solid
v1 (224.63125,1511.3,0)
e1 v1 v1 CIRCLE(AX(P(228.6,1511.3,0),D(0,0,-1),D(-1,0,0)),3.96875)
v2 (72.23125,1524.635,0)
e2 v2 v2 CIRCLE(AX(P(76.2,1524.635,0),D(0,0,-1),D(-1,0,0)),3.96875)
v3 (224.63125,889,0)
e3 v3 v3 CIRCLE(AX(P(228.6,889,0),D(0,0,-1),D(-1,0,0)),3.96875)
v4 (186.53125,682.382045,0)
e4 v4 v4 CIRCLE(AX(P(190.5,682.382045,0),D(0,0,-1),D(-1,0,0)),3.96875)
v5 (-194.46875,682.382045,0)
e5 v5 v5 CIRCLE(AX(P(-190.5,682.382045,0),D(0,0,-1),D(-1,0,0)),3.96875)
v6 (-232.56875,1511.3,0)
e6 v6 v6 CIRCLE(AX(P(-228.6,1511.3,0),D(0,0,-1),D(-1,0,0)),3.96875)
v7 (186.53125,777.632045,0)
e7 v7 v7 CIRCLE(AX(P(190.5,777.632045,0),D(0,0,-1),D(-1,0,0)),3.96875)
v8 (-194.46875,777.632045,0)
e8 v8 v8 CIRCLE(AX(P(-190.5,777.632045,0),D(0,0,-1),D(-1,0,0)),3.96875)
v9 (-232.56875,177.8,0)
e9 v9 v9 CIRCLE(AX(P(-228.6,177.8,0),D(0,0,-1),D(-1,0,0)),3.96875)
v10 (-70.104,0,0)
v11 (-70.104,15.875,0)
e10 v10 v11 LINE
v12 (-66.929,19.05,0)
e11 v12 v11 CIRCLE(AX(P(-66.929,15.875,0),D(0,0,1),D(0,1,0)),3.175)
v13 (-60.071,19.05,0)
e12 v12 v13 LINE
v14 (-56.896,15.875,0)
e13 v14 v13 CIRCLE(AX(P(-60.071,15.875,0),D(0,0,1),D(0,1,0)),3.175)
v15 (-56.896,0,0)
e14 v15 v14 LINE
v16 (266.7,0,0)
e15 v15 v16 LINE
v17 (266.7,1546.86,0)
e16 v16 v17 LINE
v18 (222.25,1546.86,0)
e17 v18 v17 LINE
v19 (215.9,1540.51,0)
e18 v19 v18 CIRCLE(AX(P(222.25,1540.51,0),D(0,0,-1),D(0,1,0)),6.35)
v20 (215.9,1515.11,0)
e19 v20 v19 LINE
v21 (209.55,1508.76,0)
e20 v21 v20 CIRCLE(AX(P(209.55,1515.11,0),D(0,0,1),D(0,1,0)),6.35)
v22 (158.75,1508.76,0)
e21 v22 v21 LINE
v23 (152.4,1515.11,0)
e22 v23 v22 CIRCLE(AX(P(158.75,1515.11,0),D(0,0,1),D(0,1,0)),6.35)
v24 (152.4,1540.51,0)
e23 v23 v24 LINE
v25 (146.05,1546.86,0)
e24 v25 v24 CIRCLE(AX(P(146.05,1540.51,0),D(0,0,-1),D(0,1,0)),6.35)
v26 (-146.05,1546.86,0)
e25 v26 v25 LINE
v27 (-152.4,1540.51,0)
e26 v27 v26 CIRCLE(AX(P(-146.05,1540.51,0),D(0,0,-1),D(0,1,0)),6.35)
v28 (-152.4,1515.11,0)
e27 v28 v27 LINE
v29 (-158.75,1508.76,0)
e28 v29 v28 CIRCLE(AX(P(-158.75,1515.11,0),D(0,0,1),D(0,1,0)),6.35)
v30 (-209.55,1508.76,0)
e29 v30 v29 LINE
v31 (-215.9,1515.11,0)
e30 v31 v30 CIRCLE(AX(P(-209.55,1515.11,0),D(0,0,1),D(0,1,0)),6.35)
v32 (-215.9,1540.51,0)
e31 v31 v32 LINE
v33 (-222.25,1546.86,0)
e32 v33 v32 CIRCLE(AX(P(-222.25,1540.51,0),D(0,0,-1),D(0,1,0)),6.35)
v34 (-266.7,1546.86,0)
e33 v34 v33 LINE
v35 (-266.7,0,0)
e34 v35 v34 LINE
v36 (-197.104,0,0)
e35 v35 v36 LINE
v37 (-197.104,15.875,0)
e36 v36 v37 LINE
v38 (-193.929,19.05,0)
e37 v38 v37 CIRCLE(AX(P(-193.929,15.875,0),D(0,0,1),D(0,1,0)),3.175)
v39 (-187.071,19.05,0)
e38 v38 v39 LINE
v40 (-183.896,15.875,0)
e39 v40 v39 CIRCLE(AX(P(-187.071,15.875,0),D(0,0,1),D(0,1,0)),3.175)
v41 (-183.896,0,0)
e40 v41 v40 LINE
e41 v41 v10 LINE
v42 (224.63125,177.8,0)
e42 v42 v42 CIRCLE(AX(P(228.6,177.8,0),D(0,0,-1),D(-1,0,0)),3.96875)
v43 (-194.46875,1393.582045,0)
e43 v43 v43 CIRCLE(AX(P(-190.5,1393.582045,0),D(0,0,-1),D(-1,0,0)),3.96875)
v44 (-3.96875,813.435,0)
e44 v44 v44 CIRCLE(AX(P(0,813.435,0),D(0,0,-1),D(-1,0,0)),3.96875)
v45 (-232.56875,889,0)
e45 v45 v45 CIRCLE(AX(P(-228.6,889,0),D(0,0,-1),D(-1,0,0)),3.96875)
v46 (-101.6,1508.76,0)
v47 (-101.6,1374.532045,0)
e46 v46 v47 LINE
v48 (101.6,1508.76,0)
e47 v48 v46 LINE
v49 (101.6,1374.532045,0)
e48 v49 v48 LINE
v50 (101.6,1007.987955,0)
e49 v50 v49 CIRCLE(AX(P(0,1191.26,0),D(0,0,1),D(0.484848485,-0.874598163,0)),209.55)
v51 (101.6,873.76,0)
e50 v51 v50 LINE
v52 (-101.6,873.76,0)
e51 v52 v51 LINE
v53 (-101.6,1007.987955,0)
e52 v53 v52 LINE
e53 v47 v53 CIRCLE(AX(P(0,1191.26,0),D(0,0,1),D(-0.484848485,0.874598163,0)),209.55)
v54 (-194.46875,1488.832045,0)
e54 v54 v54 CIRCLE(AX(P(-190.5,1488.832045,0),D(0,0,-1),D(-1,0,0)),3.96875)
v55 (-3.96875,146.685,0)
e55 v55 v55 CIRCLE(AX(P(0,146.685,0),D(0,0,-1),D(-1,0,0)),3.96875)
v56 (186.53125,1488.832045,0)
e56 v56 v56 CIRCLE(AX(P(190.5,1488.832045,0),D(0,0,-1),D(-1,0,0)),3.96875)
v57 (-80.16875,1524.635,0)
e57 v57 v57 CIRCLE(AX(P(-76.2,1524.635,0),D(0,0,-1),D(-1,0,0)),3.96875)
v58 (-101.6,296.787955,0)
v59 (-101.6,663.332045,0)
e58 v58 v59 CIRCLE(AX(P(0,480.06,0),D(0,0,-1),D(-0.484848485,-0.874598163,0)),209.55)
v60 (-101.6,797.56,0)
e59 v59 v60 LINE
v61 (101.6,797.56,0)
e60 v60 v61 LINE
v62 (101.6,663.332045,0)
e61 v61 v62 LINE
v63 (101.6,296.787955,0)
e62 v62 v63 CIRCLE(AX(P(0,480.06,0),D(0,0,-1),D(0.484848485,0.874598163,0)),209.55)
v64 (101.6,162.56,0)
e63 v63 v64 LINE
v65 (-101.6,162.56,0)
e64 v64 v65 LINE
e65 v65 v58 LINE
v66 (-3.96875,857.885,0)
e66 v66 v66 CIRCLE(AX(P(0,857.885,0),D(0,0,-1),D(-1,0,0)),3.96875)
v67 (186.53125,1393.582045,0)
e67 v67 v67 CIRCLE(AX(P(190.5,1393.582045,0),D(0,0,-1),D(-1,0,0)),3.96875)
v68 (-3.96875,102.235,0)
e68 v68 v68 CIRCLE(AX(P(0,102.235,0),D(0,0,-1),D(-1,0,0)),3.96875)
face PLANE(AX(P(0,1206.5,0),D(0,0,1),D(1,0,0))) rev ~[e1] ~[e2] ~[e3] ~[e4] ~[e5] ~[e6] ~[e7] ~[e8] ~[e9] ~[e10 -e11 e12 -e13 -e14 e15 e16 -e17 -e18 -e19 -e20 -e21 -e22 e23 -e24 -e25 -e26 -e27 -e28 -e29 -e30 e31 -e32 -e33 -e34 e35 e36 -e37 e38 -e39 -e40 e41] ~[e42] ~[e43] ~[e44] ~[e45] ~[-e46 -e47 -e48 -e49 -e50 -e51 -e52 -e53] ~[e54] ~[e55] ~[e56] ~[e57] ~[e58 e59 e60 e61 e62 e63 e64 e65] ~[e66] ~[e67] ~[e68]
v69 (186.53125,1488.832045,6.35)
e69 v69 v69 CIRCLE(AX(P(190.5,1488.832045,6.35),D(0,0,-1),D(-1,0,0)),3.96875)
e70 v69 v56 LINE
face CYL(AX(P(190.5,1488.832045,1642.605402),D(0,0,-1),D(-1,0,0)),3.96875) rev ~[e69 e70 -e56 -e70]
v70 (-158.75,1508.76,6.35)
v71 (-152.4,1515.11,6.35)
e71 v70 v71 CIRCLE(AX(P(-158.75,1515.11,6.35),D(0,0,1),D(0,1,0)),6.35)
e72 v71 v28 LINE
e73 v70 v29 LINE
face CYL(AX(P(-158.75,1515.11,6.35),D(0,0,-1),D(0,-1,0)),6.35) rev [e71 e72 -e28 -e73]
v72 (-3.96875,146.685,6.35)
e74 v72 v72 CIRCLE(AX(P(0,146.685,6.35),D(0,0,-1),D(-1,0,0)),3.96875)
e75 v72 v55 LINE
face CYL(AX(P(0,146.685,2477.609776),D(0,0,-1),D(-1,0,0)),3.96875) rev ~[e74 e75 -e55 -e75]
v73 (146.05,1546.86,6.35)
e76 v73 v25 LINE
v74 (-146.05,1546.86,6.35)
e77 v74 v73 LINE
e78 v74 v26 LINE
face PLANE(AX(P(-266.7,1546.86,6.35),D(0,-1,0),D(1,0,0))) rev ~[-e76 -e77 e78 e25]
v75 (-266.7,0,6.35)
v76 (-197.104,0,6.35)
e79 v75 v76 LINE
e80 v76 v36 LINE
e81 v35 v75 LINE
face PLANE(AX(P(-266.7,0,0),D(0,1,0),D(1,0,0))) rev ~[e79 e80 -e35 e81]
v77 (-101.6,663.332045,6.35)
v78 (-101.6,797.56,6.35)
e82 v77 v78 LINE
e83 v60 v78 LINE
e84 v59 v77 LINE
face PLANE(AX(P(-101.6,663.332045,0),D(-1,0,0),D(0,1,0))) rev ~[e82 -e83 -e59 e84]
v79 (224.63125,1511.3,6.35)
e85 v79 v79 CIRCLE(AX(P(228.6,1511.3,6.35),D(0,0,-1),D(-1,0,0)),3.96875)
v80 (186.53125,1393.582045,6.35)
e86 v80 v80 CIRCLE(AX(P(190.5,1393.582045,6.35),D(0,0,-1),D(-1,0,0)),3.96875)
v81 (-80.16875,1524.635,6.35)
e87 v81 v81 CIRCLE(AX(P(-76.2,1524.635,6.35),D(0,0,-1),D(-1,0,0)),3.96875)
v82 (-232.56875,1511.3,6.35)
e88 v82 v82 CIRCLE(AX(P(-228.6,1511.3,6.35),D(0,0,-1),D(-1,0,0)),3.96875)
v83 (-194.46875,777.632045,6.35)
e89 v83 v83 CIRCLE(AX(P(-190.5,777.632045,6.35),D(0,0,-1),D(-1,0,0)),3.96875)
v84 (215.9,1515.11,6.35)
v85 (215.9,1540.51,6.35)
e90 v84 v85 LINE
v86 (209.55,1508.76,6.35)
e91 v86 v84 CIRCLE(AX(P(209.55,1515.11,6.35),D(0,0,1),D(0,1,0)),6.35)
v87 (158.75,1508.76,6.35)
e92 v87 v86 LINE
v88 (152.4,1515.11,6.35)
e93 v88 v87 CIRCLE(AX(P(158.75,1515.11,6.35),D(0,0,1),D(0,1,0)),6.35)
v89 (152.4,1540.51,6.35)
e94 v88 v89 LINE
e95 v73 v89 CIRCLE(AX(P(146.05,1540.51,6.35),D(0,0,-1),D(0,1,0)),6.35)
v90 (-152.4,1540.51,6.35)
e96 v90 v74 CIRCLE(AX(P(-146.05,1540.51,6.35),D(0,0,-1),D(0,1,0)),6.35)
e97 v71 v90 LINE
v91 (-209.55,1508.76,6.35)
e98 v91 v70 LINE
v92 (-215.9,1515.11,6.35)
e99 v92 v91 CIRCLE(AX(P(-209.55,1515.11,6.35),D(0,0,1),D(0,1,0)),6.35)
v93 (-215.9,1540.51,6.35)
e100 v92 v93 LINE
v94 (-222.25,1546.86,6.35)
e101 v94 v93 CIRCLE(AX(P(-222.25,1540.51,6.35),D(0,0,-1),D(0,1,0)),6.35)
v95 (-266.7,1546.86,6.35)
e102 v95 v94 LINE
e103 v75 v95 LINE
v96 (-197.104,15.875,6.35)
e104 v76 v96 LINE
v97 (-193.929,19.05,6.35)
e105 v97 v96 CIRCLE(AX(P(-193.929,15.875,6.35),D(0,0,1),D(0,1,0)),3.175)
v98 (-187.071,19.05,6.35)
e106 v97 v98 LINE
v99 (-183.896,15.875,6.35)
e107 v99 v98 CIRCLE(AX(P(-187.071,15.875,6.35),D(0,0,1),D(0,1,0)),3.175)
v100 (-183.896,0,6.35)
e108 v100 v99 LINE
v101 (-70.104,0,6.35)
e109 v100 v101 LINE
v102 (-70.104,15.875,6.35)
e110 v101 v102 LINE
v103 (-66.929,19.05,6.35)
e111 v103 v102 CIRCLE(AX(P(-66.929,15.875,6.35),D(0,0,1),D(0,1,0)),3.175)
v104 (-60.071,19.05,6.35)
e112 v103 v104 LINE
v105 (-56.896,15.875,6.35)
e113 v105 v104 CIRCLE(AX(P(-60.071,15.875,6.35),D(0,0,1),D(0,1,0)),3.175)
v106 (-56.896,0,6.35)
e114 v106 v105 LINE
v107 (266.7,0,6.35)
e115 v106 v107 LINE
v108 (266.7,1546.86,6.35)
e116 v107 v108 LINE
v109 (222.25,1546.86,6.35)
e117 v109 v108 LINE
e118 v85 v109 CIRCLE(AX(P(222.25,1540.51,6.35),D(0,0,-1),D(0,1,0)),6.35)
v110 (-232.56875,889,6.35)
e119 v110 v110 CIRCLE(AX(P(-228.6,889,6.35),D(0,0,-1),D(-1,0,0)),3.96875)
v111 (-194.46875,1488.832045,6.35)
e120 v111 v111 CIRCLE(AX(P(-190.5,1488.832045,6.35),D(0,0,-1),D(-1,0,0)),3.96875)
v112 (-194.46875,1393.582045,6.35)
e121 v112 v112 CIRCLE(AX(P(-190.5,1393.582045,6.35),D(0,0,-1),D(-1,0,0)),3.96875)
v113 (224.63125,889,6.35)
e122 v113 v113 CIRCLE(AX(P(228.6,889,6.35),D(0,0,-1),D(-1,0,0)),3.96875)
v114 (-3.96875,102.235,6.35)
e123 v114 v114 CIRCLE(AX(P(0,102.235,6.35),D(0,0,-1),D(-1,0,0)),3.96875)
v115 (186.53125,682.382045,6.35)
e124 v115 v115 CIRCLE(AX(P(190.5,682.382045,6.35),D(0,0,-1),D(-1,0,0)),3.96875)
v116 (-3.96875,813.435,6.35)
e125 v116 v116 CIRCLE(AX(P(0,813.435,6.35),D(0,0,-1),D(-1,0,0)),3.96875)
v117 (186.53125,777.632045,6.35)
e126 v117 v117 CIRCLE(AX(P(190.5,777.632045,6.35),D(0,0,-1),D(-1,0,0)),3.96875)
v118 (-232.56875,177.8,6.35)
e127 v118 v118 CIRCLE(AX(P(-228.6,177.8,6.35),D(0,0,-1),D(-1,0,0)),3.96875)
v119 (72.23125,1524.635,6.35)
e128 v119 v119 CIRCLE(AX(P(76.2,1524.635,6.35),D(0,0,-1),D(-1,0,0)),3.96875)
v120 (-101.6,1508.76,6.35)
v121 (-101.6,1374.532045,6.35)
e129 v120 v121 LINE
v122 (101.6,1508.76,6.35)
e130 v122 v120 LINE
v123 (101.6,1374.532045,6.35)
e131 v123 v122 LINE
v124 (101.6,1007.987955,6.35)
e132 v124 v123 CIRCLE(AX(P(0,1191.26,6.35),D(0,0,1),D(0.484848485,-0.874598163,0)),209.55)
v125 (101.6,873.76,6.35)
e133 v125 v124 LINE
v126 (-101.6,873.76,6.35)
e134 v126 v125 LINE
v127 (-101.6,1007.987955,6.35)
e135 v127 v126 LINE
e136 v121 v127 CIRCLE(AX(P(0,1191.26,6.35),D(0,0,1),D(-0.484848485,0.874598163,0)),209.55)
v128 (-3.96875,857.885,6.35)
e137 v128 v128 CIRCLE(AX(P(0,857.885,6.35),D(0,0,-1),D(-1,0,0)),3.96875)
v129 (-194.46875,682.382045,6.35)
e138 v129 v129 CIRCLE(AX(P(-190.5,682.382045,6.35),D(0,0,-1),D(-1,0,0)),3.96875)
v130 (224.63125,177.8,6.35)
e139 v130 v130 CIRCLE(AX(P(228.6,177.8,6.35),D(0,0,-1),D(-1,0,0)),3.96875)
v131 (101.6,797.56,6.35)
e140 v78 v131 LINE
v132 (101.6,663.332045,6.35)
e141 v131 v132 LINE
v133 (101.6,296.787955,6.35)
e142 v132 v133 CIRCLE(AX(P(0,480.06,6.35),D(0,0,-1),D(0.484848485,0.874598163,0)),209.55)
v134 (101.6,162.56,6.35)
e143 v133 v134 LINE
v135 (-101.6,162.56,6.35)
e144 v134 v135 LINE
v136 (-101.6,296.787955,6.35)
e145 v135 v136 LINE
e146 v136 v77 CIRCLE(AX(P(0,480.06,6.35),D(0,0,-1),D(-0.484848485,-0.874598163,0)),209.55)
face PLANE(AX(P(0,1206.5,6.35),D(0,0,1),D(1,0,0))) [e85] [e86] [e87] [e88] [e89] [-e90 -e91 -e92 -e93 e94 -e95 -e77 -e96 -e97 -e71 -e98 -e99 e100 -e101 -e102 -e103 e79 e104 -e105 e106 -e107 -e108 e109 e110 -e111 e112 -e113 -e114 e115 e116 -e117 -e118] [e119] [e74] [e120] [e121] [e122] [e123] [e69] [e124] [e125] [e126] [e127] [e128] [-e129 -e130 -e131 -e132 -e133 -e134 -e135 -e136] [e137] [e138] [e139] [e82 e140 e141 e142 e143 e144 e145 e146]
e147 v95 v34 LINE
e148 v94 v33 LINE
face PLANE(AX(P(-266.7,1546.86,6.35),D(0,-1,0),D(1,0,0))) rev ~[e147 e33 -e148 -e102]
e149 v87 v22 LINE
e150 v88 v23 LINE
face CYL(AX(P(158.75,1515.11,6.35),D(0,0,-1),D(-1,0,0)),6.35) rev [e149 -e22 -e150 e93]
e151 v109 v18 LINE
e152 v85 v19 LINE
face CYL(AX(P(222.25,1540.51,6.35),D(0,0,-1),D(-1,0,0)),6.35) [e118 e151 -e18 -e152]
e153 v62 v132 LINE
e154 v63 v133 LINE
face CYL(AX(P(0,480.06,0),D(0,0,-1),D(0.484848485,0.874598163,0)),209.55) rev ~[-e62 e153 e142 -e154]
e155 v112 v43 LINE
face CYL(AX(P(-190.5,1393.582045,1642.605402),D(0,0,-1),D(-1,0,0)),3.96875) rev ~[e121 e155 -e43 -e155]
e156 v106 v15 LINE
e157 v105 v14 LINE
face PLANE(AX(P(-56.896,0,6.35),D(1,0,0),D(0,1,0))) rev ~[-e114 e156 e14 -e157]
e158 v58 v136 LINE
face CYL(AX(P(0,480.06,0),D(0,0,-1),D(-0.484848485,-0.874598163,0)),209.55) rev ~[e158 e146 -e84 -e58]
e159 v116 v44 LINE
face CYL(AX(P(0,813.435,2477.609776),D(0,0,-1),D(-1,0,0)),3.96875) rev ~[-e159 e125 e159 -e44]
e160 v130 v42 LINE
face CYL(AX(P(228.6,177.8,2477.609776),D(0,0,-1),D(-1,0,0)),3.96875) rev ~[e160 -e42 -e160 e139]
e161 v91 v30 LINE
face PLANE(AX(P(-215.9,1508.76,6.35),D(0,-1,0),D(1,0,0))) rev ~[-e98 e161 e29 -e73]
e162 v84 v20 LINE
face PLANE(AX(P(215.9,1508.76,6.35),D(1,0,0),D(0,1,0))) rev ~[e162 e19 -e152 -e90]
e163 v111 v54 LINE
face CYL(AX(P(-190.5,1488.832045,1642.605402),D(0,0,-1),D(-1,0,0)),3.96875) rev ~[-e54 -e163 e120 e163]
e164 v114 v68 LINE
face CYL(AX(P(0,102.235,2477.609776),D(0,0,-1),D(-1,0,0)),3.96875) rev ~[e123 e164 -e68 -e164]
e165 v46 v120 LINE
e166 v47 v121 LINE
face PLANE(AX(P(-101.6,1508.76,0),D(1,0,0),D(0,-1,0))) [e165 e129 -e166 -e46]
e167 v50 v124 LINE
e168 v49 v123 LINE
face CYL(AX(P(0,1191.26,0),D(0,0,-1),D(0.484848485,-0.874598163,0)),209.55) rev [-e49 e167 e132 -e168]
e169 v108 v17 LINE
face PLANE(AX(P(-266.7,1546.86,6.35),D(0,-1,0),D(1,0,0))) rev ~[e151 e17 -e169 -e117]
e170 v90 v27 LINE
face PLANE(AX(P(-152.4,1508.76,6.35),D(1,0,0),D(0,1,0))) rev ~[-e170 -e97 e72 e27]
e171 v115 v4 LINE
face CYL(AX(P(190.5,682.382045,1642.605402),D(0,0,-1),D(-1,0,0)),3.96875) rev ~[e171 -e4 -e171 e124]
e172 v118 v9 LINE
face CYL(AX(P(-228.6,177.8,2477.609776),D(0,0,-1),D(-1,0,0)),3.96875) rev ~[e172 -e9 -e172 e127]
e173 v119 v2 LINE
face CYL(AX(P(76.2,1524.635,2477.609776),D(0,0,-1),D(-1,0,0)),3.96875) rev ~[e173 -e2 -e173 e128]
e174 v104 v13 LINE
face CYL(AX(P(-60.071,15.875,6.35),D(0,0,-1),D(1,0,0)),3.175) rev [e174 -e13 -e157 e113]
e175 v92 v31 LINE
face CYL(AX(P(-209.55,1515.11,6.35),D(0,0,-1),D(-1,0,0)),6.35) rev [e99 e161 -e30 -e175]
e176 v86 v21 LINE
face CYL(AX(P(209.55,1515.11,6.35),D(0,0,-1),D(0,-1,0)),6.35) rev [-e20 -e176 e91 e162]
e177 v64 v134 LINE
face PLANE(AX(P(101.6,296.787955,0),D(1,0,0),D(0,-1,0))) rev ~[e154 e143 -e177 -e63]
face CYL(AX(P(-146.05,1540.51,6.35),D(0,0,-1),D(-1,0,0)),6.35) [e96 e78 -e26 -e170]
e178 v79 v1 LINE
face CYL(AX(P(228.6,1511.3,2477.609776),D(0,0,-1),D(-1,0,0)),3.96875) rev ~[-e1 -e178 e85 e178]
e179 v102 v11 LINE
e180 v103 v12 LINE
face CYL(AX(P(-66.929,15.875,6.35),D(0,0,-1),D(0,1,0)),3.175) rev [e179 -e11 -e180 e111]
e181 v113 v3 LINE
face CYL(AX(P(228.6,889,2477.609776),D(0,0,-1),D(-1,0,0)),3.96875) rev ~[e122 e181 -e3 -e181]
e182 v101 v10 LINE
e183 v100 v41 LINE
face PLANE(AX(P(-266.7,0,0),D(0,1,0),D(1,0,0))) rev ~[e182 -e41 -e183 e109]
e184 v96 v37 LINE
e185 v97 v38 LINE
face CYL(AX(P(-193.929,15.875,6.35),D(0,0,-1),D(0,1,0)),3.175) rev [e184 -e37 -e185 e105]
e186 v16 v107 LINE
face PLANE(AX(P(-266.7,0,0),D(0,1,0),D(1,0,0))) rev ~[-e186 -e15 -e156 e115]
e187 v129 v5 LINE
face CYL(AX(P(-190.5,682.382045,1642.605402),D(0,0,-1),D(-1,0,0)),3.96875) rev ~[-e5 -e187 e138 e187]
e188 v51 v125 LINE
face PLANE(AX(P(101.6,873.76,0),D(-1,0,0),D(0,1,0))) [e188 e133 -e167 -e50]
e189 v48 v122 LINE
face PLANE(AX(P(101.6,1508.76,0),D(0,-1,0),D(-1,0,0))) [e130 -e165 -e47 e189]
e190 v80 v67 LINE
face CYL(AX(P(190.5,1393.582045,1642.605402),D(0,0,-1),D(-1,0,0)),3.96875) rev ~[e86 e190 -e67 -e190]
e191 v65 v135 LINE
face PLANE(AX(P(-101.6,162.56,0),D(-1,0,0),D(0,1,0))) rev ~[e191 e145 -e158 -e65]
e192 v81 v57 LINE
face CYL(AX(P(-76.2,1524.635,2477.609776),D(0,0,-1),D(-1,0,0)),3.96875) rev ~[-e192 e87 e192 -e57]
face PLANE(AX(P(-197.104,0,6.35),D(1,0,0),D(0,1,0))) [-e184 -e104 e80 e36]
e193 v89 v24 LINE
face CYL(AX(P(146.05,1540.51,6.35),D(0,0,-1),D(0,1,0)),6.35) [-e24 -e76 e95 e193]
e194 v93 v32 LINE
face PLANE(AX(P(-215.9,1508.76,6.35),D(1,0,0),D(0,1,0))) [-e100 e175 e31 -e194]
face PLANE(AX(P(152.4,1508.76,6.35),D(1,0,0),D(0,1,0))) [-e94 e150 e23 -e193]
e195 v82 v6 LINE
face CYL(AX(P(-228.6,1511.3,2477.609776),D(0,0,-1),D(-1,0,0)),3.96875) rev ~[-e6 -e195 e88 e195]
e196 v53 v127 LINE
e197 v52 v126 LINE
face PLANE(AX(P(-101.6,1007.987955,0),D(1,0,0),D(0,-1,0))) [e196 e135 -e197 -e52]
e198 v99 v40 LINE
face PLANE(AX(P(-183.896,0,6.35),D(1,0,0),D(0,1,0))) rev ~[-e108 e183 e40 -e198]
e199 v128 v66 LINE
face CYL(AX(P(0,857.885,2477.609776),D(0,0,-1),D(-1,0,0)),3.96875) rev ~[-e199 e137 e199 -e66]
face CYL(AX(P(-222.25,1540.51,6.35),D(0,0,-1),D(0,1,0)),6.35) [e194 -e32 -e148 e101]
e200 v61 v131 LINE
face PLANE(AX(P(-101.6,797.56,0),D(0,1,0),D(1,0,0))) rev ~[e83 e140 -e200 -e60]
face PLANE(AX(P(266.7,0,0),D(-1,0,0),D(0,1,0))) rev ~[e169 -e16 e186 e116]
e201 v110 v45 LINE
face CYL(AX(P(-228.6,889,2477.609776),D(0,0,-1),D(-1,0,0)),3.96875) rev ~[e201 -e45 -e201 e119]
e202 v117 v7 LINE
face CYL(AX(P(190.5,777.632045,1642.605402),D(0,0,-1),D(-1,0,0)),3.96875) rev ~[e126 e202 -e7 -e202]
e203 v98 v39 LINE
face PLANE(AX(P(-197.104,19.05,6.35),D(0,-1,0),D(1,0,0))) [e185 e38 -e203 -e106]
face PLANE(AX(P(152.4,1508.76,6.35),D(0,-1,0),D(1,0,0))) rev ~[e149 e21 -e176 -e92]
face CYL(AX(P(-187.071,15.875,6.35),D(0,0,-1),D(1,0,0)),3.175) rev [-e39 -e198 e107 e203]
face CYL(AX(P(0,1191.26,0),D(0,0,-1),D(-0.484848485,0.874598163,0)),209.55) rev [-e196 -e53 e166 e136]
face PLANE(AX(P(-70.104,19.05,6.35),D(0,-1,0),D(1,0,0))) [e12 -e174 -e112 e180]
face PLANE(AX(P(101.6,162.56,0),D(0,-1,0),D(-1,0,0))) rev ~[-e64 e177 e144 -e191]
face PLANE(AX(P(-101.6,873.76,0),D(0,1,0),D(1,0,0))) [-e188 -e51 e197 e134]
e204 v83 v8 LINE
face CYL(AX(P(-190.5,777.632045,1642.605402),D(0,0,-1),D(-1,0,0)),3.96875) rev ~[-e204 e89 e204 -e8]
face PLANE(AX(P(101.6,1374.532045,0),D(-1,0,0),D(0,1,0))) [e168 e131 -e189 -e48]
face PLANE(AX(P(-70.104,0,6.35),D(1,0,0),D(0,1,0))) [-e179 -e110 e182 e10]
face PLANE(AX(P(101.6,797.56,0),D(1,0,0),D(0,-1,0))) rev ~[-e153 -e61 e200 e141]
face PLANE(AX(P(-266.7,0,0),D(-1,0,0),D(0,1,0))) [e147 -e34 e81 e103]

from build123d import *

# Parameters (mm, degrees)
SKETCH1_W                      = 533.4
SKETCH1_H                      = 2413
BOSS_EXTRUDE1_DEPTH            = 6.35
F_5_16_0_3125_DIAMETER_HOLE1_D = 7.9375
SKETCH6_W                      = 533.4
SKETCH6_H                      = 866.14
CUT_EXTRUDE1_DEPTH             = 7.35
SKETCH8_W                      = 63.5
SKETCH8_H                      = 38.1
CUT_EXTRUDE2_DEPTH             = 7.35
FILLET1_R                      = 6.35
F_5_16_0_3125_DIAMETER_HOLE2_D = 7.9375
SKETCH12_W                     = 13.208
SKETCH12_H                     = 19.05
CUT_EXTRUDE3_DEPTH             = 7.35
FILLET2_R                      = 3.175


with BuildPart() as part:
    # Sketch1 → Boss-Extrude1 (new body)
    with BuildSketch(Plane.XY):
        with Locations((0, 1206.5)):
            Rectangle(SKETCH1_W, SKETCH1_H)
        with BuildLine():
            Line((-101.6, 797.56), (101.6, 797.56))
            Line((101.6, 797.56), (101.6, 663.332045059))
            ThreePointArc((101.6, 663.332045059), (209.55, 480.06), (101.6, 296.787954941))
            Line((101.6, 296.787954941), (101.6, 162.56))
            Line((101.6, 162.56), (-101.6, 162.56))
            Line((-101.6, 162.56), (-101.6, 296.787954941))
            ThreePointArc((-101.6, 296.787954941), (-209.55, 480.06), (-101.6, 663.332045059))
            Line((-101.6, 663.332045059), (-101.6, 797.56))
        make_face(mode=Mode.SUBTRACT)
        with BuildLine():
            Line((-101.6, 1508.76), (-101.6, 1374.532045059))
            ThreePointArc((-101.6, 1374.532045059), (-209.55, 1191.26), (-101.6, 1007.987954941))
            Line((-101.6, 1007.987954941), (-101.6, 873.76))
            Line((-101.6, 873.76), (101.6, 873.76))
            Line((101.6, 873.76), (101.6, 1007.987954941))
            ThreePointArc((101.6, 1007.987954941), (209.55, 1191.26), (101.6, 1374.532045059))
            Line((101.6, 1374.532045059), (101.6, 1508.76))
            Line((101.6, 1508.76), (-101.6, 1508.76))
        make_face(mode=Mode.SUBTRACT)
        with BuildLine():
            Line((-101.6, 2219.96), (-101.6, 2085.732045059))
            ThreePointArc((-101.6, 2085.732045059), (-209.55, 1902.46), (-101.6, 1719.187954941))
            Line((-101.6, 1719.187954941), (-101.6, 1584.96))
            Line((-101.6, 1584.96), (101.6, 1584.96))
            Line((101.6, 1584.96), (101.6, 1719.187954941))
            ThreePointArc((101.6, 1719.187954941), (209.55, 1902.46), (101.6, 2085.732045059))
            Line((101.6, 2085.732045059), (101.6, 2219.96))
            Line((101.6, 2219.96), (-101.6, 2219.96))
        make_face(mode=Mode.SUBTRACT)
    extrude(amount=BOSS_EXTRUDE1_DEPTH)

    # 5/16 (0.3125) Diameter Hole1 (through all)
    with Locations(Plane.XY.offset(6.35)):
        with Locations((0, 146.685), (0, 102.235), (-228.6, 177.8), (0, 857.885), (0, 813.435), (228.6, 177.8), (-228.6, 889), (228.6, 889), (-76.2, 1524.635), (-76.2, 1569.085), (76.2, 1569.085), (76.2, 1524.635), (-228.6, 1511.3), (228.6, 1511.3)):
            Hole(F_5_16_0_3125_DIAMETER_HOLE1_D / 2)

    # Sketch6 → Cut-Extrude1 (cut, through all)
    with BuildSketch(Plane.XY.offset(6.35)):
        with Locations((0, 1979.93)):
            Rectangle(SKETCH6_W, SKETCH6_H)
    extrude(amount=-CUT_EXTRUDE1_DEPTH, mode=Mode.SUBTRACT)

    # Sketch8 → Cut-Extrude2 (cut, through all)
    with BuildSketch(Plane.XY.offset(6.35)):
        with Locations((-184.15, 1527.81)):
            Rectangle(SKETCH8_W, SKETCH8_H)
        with Locations((184.15, 1527.81)):
            Rectangle(SKETCH8_W, SKETCH8_H)
    extrude(amount=-CUT_EXTRUDE2_DEPTH, mode=Mode.SUBTRACT)

    # Fillet1
    fillet1_edges = [part.edges().sort_by_distance(p)[0] for p in [
        (-152.4, 1508.76, 3.175),
        (-215.9, 1508.76, 3.175),
        (-215.9, 1546.86, 3.175),
        (-152.4, 1546.86, 3.175),
        (152.4, 1508.76, 3.175),
        (152.4, 1546.86, 3.175),
        (215.9, 1546.86, 3.175),
        (215.9, 1508.76, 3.175),
    ]]
    fillet(fillet1_edges, radius=FILLET1_R)

    # 5/16 (0.3125) Diameter Hole2 (through all)
    with Locations(Plane.XY.offset(6.35)):
        with Locations((-190.5, 682.382045059), (-190.5, 777.632045059), (190.5, 777.632045059), (190.5, 682.382045059), (-190.5, 1393.582045059), (-190.5, 1488.832045059), (190.5, 1488.832045059), (190.5, 1393.582045059)):
            Hole(F_5_16_0_3125_DIAMETER_HOLE2_D / 2)

    # Sketch12 → Cut-Extrude3 (cut, through all)
    with BuildSketch(Plane.XY.offset(6.35)):
        with Locations((-63.5, 9.525)):
            Rectangle(SKETCH12_W, SKETCH12_H)
        with Locations((-190.5, 9.525)):
            Rectangle(SKETCH12_W, SKETCH12_H)
    extrude(amount=-CUT_EXTRUDE3_DEPTH, mode=Mode.SUBTRACT)

    # Fillet2
    fillet2_edges = [part.edges().sort_by_distance(p)[0] for p in [
        (-56.896, 19.05, 3.175),
        (-70.104, 19.05, 3.175),
        (-183.896, 19.05, 3.175),
        (-197.104, 19.05, 3.175),
    ]]
    fillet(fillet2_edges, radius=FILLET2_R)


solid = part.part
